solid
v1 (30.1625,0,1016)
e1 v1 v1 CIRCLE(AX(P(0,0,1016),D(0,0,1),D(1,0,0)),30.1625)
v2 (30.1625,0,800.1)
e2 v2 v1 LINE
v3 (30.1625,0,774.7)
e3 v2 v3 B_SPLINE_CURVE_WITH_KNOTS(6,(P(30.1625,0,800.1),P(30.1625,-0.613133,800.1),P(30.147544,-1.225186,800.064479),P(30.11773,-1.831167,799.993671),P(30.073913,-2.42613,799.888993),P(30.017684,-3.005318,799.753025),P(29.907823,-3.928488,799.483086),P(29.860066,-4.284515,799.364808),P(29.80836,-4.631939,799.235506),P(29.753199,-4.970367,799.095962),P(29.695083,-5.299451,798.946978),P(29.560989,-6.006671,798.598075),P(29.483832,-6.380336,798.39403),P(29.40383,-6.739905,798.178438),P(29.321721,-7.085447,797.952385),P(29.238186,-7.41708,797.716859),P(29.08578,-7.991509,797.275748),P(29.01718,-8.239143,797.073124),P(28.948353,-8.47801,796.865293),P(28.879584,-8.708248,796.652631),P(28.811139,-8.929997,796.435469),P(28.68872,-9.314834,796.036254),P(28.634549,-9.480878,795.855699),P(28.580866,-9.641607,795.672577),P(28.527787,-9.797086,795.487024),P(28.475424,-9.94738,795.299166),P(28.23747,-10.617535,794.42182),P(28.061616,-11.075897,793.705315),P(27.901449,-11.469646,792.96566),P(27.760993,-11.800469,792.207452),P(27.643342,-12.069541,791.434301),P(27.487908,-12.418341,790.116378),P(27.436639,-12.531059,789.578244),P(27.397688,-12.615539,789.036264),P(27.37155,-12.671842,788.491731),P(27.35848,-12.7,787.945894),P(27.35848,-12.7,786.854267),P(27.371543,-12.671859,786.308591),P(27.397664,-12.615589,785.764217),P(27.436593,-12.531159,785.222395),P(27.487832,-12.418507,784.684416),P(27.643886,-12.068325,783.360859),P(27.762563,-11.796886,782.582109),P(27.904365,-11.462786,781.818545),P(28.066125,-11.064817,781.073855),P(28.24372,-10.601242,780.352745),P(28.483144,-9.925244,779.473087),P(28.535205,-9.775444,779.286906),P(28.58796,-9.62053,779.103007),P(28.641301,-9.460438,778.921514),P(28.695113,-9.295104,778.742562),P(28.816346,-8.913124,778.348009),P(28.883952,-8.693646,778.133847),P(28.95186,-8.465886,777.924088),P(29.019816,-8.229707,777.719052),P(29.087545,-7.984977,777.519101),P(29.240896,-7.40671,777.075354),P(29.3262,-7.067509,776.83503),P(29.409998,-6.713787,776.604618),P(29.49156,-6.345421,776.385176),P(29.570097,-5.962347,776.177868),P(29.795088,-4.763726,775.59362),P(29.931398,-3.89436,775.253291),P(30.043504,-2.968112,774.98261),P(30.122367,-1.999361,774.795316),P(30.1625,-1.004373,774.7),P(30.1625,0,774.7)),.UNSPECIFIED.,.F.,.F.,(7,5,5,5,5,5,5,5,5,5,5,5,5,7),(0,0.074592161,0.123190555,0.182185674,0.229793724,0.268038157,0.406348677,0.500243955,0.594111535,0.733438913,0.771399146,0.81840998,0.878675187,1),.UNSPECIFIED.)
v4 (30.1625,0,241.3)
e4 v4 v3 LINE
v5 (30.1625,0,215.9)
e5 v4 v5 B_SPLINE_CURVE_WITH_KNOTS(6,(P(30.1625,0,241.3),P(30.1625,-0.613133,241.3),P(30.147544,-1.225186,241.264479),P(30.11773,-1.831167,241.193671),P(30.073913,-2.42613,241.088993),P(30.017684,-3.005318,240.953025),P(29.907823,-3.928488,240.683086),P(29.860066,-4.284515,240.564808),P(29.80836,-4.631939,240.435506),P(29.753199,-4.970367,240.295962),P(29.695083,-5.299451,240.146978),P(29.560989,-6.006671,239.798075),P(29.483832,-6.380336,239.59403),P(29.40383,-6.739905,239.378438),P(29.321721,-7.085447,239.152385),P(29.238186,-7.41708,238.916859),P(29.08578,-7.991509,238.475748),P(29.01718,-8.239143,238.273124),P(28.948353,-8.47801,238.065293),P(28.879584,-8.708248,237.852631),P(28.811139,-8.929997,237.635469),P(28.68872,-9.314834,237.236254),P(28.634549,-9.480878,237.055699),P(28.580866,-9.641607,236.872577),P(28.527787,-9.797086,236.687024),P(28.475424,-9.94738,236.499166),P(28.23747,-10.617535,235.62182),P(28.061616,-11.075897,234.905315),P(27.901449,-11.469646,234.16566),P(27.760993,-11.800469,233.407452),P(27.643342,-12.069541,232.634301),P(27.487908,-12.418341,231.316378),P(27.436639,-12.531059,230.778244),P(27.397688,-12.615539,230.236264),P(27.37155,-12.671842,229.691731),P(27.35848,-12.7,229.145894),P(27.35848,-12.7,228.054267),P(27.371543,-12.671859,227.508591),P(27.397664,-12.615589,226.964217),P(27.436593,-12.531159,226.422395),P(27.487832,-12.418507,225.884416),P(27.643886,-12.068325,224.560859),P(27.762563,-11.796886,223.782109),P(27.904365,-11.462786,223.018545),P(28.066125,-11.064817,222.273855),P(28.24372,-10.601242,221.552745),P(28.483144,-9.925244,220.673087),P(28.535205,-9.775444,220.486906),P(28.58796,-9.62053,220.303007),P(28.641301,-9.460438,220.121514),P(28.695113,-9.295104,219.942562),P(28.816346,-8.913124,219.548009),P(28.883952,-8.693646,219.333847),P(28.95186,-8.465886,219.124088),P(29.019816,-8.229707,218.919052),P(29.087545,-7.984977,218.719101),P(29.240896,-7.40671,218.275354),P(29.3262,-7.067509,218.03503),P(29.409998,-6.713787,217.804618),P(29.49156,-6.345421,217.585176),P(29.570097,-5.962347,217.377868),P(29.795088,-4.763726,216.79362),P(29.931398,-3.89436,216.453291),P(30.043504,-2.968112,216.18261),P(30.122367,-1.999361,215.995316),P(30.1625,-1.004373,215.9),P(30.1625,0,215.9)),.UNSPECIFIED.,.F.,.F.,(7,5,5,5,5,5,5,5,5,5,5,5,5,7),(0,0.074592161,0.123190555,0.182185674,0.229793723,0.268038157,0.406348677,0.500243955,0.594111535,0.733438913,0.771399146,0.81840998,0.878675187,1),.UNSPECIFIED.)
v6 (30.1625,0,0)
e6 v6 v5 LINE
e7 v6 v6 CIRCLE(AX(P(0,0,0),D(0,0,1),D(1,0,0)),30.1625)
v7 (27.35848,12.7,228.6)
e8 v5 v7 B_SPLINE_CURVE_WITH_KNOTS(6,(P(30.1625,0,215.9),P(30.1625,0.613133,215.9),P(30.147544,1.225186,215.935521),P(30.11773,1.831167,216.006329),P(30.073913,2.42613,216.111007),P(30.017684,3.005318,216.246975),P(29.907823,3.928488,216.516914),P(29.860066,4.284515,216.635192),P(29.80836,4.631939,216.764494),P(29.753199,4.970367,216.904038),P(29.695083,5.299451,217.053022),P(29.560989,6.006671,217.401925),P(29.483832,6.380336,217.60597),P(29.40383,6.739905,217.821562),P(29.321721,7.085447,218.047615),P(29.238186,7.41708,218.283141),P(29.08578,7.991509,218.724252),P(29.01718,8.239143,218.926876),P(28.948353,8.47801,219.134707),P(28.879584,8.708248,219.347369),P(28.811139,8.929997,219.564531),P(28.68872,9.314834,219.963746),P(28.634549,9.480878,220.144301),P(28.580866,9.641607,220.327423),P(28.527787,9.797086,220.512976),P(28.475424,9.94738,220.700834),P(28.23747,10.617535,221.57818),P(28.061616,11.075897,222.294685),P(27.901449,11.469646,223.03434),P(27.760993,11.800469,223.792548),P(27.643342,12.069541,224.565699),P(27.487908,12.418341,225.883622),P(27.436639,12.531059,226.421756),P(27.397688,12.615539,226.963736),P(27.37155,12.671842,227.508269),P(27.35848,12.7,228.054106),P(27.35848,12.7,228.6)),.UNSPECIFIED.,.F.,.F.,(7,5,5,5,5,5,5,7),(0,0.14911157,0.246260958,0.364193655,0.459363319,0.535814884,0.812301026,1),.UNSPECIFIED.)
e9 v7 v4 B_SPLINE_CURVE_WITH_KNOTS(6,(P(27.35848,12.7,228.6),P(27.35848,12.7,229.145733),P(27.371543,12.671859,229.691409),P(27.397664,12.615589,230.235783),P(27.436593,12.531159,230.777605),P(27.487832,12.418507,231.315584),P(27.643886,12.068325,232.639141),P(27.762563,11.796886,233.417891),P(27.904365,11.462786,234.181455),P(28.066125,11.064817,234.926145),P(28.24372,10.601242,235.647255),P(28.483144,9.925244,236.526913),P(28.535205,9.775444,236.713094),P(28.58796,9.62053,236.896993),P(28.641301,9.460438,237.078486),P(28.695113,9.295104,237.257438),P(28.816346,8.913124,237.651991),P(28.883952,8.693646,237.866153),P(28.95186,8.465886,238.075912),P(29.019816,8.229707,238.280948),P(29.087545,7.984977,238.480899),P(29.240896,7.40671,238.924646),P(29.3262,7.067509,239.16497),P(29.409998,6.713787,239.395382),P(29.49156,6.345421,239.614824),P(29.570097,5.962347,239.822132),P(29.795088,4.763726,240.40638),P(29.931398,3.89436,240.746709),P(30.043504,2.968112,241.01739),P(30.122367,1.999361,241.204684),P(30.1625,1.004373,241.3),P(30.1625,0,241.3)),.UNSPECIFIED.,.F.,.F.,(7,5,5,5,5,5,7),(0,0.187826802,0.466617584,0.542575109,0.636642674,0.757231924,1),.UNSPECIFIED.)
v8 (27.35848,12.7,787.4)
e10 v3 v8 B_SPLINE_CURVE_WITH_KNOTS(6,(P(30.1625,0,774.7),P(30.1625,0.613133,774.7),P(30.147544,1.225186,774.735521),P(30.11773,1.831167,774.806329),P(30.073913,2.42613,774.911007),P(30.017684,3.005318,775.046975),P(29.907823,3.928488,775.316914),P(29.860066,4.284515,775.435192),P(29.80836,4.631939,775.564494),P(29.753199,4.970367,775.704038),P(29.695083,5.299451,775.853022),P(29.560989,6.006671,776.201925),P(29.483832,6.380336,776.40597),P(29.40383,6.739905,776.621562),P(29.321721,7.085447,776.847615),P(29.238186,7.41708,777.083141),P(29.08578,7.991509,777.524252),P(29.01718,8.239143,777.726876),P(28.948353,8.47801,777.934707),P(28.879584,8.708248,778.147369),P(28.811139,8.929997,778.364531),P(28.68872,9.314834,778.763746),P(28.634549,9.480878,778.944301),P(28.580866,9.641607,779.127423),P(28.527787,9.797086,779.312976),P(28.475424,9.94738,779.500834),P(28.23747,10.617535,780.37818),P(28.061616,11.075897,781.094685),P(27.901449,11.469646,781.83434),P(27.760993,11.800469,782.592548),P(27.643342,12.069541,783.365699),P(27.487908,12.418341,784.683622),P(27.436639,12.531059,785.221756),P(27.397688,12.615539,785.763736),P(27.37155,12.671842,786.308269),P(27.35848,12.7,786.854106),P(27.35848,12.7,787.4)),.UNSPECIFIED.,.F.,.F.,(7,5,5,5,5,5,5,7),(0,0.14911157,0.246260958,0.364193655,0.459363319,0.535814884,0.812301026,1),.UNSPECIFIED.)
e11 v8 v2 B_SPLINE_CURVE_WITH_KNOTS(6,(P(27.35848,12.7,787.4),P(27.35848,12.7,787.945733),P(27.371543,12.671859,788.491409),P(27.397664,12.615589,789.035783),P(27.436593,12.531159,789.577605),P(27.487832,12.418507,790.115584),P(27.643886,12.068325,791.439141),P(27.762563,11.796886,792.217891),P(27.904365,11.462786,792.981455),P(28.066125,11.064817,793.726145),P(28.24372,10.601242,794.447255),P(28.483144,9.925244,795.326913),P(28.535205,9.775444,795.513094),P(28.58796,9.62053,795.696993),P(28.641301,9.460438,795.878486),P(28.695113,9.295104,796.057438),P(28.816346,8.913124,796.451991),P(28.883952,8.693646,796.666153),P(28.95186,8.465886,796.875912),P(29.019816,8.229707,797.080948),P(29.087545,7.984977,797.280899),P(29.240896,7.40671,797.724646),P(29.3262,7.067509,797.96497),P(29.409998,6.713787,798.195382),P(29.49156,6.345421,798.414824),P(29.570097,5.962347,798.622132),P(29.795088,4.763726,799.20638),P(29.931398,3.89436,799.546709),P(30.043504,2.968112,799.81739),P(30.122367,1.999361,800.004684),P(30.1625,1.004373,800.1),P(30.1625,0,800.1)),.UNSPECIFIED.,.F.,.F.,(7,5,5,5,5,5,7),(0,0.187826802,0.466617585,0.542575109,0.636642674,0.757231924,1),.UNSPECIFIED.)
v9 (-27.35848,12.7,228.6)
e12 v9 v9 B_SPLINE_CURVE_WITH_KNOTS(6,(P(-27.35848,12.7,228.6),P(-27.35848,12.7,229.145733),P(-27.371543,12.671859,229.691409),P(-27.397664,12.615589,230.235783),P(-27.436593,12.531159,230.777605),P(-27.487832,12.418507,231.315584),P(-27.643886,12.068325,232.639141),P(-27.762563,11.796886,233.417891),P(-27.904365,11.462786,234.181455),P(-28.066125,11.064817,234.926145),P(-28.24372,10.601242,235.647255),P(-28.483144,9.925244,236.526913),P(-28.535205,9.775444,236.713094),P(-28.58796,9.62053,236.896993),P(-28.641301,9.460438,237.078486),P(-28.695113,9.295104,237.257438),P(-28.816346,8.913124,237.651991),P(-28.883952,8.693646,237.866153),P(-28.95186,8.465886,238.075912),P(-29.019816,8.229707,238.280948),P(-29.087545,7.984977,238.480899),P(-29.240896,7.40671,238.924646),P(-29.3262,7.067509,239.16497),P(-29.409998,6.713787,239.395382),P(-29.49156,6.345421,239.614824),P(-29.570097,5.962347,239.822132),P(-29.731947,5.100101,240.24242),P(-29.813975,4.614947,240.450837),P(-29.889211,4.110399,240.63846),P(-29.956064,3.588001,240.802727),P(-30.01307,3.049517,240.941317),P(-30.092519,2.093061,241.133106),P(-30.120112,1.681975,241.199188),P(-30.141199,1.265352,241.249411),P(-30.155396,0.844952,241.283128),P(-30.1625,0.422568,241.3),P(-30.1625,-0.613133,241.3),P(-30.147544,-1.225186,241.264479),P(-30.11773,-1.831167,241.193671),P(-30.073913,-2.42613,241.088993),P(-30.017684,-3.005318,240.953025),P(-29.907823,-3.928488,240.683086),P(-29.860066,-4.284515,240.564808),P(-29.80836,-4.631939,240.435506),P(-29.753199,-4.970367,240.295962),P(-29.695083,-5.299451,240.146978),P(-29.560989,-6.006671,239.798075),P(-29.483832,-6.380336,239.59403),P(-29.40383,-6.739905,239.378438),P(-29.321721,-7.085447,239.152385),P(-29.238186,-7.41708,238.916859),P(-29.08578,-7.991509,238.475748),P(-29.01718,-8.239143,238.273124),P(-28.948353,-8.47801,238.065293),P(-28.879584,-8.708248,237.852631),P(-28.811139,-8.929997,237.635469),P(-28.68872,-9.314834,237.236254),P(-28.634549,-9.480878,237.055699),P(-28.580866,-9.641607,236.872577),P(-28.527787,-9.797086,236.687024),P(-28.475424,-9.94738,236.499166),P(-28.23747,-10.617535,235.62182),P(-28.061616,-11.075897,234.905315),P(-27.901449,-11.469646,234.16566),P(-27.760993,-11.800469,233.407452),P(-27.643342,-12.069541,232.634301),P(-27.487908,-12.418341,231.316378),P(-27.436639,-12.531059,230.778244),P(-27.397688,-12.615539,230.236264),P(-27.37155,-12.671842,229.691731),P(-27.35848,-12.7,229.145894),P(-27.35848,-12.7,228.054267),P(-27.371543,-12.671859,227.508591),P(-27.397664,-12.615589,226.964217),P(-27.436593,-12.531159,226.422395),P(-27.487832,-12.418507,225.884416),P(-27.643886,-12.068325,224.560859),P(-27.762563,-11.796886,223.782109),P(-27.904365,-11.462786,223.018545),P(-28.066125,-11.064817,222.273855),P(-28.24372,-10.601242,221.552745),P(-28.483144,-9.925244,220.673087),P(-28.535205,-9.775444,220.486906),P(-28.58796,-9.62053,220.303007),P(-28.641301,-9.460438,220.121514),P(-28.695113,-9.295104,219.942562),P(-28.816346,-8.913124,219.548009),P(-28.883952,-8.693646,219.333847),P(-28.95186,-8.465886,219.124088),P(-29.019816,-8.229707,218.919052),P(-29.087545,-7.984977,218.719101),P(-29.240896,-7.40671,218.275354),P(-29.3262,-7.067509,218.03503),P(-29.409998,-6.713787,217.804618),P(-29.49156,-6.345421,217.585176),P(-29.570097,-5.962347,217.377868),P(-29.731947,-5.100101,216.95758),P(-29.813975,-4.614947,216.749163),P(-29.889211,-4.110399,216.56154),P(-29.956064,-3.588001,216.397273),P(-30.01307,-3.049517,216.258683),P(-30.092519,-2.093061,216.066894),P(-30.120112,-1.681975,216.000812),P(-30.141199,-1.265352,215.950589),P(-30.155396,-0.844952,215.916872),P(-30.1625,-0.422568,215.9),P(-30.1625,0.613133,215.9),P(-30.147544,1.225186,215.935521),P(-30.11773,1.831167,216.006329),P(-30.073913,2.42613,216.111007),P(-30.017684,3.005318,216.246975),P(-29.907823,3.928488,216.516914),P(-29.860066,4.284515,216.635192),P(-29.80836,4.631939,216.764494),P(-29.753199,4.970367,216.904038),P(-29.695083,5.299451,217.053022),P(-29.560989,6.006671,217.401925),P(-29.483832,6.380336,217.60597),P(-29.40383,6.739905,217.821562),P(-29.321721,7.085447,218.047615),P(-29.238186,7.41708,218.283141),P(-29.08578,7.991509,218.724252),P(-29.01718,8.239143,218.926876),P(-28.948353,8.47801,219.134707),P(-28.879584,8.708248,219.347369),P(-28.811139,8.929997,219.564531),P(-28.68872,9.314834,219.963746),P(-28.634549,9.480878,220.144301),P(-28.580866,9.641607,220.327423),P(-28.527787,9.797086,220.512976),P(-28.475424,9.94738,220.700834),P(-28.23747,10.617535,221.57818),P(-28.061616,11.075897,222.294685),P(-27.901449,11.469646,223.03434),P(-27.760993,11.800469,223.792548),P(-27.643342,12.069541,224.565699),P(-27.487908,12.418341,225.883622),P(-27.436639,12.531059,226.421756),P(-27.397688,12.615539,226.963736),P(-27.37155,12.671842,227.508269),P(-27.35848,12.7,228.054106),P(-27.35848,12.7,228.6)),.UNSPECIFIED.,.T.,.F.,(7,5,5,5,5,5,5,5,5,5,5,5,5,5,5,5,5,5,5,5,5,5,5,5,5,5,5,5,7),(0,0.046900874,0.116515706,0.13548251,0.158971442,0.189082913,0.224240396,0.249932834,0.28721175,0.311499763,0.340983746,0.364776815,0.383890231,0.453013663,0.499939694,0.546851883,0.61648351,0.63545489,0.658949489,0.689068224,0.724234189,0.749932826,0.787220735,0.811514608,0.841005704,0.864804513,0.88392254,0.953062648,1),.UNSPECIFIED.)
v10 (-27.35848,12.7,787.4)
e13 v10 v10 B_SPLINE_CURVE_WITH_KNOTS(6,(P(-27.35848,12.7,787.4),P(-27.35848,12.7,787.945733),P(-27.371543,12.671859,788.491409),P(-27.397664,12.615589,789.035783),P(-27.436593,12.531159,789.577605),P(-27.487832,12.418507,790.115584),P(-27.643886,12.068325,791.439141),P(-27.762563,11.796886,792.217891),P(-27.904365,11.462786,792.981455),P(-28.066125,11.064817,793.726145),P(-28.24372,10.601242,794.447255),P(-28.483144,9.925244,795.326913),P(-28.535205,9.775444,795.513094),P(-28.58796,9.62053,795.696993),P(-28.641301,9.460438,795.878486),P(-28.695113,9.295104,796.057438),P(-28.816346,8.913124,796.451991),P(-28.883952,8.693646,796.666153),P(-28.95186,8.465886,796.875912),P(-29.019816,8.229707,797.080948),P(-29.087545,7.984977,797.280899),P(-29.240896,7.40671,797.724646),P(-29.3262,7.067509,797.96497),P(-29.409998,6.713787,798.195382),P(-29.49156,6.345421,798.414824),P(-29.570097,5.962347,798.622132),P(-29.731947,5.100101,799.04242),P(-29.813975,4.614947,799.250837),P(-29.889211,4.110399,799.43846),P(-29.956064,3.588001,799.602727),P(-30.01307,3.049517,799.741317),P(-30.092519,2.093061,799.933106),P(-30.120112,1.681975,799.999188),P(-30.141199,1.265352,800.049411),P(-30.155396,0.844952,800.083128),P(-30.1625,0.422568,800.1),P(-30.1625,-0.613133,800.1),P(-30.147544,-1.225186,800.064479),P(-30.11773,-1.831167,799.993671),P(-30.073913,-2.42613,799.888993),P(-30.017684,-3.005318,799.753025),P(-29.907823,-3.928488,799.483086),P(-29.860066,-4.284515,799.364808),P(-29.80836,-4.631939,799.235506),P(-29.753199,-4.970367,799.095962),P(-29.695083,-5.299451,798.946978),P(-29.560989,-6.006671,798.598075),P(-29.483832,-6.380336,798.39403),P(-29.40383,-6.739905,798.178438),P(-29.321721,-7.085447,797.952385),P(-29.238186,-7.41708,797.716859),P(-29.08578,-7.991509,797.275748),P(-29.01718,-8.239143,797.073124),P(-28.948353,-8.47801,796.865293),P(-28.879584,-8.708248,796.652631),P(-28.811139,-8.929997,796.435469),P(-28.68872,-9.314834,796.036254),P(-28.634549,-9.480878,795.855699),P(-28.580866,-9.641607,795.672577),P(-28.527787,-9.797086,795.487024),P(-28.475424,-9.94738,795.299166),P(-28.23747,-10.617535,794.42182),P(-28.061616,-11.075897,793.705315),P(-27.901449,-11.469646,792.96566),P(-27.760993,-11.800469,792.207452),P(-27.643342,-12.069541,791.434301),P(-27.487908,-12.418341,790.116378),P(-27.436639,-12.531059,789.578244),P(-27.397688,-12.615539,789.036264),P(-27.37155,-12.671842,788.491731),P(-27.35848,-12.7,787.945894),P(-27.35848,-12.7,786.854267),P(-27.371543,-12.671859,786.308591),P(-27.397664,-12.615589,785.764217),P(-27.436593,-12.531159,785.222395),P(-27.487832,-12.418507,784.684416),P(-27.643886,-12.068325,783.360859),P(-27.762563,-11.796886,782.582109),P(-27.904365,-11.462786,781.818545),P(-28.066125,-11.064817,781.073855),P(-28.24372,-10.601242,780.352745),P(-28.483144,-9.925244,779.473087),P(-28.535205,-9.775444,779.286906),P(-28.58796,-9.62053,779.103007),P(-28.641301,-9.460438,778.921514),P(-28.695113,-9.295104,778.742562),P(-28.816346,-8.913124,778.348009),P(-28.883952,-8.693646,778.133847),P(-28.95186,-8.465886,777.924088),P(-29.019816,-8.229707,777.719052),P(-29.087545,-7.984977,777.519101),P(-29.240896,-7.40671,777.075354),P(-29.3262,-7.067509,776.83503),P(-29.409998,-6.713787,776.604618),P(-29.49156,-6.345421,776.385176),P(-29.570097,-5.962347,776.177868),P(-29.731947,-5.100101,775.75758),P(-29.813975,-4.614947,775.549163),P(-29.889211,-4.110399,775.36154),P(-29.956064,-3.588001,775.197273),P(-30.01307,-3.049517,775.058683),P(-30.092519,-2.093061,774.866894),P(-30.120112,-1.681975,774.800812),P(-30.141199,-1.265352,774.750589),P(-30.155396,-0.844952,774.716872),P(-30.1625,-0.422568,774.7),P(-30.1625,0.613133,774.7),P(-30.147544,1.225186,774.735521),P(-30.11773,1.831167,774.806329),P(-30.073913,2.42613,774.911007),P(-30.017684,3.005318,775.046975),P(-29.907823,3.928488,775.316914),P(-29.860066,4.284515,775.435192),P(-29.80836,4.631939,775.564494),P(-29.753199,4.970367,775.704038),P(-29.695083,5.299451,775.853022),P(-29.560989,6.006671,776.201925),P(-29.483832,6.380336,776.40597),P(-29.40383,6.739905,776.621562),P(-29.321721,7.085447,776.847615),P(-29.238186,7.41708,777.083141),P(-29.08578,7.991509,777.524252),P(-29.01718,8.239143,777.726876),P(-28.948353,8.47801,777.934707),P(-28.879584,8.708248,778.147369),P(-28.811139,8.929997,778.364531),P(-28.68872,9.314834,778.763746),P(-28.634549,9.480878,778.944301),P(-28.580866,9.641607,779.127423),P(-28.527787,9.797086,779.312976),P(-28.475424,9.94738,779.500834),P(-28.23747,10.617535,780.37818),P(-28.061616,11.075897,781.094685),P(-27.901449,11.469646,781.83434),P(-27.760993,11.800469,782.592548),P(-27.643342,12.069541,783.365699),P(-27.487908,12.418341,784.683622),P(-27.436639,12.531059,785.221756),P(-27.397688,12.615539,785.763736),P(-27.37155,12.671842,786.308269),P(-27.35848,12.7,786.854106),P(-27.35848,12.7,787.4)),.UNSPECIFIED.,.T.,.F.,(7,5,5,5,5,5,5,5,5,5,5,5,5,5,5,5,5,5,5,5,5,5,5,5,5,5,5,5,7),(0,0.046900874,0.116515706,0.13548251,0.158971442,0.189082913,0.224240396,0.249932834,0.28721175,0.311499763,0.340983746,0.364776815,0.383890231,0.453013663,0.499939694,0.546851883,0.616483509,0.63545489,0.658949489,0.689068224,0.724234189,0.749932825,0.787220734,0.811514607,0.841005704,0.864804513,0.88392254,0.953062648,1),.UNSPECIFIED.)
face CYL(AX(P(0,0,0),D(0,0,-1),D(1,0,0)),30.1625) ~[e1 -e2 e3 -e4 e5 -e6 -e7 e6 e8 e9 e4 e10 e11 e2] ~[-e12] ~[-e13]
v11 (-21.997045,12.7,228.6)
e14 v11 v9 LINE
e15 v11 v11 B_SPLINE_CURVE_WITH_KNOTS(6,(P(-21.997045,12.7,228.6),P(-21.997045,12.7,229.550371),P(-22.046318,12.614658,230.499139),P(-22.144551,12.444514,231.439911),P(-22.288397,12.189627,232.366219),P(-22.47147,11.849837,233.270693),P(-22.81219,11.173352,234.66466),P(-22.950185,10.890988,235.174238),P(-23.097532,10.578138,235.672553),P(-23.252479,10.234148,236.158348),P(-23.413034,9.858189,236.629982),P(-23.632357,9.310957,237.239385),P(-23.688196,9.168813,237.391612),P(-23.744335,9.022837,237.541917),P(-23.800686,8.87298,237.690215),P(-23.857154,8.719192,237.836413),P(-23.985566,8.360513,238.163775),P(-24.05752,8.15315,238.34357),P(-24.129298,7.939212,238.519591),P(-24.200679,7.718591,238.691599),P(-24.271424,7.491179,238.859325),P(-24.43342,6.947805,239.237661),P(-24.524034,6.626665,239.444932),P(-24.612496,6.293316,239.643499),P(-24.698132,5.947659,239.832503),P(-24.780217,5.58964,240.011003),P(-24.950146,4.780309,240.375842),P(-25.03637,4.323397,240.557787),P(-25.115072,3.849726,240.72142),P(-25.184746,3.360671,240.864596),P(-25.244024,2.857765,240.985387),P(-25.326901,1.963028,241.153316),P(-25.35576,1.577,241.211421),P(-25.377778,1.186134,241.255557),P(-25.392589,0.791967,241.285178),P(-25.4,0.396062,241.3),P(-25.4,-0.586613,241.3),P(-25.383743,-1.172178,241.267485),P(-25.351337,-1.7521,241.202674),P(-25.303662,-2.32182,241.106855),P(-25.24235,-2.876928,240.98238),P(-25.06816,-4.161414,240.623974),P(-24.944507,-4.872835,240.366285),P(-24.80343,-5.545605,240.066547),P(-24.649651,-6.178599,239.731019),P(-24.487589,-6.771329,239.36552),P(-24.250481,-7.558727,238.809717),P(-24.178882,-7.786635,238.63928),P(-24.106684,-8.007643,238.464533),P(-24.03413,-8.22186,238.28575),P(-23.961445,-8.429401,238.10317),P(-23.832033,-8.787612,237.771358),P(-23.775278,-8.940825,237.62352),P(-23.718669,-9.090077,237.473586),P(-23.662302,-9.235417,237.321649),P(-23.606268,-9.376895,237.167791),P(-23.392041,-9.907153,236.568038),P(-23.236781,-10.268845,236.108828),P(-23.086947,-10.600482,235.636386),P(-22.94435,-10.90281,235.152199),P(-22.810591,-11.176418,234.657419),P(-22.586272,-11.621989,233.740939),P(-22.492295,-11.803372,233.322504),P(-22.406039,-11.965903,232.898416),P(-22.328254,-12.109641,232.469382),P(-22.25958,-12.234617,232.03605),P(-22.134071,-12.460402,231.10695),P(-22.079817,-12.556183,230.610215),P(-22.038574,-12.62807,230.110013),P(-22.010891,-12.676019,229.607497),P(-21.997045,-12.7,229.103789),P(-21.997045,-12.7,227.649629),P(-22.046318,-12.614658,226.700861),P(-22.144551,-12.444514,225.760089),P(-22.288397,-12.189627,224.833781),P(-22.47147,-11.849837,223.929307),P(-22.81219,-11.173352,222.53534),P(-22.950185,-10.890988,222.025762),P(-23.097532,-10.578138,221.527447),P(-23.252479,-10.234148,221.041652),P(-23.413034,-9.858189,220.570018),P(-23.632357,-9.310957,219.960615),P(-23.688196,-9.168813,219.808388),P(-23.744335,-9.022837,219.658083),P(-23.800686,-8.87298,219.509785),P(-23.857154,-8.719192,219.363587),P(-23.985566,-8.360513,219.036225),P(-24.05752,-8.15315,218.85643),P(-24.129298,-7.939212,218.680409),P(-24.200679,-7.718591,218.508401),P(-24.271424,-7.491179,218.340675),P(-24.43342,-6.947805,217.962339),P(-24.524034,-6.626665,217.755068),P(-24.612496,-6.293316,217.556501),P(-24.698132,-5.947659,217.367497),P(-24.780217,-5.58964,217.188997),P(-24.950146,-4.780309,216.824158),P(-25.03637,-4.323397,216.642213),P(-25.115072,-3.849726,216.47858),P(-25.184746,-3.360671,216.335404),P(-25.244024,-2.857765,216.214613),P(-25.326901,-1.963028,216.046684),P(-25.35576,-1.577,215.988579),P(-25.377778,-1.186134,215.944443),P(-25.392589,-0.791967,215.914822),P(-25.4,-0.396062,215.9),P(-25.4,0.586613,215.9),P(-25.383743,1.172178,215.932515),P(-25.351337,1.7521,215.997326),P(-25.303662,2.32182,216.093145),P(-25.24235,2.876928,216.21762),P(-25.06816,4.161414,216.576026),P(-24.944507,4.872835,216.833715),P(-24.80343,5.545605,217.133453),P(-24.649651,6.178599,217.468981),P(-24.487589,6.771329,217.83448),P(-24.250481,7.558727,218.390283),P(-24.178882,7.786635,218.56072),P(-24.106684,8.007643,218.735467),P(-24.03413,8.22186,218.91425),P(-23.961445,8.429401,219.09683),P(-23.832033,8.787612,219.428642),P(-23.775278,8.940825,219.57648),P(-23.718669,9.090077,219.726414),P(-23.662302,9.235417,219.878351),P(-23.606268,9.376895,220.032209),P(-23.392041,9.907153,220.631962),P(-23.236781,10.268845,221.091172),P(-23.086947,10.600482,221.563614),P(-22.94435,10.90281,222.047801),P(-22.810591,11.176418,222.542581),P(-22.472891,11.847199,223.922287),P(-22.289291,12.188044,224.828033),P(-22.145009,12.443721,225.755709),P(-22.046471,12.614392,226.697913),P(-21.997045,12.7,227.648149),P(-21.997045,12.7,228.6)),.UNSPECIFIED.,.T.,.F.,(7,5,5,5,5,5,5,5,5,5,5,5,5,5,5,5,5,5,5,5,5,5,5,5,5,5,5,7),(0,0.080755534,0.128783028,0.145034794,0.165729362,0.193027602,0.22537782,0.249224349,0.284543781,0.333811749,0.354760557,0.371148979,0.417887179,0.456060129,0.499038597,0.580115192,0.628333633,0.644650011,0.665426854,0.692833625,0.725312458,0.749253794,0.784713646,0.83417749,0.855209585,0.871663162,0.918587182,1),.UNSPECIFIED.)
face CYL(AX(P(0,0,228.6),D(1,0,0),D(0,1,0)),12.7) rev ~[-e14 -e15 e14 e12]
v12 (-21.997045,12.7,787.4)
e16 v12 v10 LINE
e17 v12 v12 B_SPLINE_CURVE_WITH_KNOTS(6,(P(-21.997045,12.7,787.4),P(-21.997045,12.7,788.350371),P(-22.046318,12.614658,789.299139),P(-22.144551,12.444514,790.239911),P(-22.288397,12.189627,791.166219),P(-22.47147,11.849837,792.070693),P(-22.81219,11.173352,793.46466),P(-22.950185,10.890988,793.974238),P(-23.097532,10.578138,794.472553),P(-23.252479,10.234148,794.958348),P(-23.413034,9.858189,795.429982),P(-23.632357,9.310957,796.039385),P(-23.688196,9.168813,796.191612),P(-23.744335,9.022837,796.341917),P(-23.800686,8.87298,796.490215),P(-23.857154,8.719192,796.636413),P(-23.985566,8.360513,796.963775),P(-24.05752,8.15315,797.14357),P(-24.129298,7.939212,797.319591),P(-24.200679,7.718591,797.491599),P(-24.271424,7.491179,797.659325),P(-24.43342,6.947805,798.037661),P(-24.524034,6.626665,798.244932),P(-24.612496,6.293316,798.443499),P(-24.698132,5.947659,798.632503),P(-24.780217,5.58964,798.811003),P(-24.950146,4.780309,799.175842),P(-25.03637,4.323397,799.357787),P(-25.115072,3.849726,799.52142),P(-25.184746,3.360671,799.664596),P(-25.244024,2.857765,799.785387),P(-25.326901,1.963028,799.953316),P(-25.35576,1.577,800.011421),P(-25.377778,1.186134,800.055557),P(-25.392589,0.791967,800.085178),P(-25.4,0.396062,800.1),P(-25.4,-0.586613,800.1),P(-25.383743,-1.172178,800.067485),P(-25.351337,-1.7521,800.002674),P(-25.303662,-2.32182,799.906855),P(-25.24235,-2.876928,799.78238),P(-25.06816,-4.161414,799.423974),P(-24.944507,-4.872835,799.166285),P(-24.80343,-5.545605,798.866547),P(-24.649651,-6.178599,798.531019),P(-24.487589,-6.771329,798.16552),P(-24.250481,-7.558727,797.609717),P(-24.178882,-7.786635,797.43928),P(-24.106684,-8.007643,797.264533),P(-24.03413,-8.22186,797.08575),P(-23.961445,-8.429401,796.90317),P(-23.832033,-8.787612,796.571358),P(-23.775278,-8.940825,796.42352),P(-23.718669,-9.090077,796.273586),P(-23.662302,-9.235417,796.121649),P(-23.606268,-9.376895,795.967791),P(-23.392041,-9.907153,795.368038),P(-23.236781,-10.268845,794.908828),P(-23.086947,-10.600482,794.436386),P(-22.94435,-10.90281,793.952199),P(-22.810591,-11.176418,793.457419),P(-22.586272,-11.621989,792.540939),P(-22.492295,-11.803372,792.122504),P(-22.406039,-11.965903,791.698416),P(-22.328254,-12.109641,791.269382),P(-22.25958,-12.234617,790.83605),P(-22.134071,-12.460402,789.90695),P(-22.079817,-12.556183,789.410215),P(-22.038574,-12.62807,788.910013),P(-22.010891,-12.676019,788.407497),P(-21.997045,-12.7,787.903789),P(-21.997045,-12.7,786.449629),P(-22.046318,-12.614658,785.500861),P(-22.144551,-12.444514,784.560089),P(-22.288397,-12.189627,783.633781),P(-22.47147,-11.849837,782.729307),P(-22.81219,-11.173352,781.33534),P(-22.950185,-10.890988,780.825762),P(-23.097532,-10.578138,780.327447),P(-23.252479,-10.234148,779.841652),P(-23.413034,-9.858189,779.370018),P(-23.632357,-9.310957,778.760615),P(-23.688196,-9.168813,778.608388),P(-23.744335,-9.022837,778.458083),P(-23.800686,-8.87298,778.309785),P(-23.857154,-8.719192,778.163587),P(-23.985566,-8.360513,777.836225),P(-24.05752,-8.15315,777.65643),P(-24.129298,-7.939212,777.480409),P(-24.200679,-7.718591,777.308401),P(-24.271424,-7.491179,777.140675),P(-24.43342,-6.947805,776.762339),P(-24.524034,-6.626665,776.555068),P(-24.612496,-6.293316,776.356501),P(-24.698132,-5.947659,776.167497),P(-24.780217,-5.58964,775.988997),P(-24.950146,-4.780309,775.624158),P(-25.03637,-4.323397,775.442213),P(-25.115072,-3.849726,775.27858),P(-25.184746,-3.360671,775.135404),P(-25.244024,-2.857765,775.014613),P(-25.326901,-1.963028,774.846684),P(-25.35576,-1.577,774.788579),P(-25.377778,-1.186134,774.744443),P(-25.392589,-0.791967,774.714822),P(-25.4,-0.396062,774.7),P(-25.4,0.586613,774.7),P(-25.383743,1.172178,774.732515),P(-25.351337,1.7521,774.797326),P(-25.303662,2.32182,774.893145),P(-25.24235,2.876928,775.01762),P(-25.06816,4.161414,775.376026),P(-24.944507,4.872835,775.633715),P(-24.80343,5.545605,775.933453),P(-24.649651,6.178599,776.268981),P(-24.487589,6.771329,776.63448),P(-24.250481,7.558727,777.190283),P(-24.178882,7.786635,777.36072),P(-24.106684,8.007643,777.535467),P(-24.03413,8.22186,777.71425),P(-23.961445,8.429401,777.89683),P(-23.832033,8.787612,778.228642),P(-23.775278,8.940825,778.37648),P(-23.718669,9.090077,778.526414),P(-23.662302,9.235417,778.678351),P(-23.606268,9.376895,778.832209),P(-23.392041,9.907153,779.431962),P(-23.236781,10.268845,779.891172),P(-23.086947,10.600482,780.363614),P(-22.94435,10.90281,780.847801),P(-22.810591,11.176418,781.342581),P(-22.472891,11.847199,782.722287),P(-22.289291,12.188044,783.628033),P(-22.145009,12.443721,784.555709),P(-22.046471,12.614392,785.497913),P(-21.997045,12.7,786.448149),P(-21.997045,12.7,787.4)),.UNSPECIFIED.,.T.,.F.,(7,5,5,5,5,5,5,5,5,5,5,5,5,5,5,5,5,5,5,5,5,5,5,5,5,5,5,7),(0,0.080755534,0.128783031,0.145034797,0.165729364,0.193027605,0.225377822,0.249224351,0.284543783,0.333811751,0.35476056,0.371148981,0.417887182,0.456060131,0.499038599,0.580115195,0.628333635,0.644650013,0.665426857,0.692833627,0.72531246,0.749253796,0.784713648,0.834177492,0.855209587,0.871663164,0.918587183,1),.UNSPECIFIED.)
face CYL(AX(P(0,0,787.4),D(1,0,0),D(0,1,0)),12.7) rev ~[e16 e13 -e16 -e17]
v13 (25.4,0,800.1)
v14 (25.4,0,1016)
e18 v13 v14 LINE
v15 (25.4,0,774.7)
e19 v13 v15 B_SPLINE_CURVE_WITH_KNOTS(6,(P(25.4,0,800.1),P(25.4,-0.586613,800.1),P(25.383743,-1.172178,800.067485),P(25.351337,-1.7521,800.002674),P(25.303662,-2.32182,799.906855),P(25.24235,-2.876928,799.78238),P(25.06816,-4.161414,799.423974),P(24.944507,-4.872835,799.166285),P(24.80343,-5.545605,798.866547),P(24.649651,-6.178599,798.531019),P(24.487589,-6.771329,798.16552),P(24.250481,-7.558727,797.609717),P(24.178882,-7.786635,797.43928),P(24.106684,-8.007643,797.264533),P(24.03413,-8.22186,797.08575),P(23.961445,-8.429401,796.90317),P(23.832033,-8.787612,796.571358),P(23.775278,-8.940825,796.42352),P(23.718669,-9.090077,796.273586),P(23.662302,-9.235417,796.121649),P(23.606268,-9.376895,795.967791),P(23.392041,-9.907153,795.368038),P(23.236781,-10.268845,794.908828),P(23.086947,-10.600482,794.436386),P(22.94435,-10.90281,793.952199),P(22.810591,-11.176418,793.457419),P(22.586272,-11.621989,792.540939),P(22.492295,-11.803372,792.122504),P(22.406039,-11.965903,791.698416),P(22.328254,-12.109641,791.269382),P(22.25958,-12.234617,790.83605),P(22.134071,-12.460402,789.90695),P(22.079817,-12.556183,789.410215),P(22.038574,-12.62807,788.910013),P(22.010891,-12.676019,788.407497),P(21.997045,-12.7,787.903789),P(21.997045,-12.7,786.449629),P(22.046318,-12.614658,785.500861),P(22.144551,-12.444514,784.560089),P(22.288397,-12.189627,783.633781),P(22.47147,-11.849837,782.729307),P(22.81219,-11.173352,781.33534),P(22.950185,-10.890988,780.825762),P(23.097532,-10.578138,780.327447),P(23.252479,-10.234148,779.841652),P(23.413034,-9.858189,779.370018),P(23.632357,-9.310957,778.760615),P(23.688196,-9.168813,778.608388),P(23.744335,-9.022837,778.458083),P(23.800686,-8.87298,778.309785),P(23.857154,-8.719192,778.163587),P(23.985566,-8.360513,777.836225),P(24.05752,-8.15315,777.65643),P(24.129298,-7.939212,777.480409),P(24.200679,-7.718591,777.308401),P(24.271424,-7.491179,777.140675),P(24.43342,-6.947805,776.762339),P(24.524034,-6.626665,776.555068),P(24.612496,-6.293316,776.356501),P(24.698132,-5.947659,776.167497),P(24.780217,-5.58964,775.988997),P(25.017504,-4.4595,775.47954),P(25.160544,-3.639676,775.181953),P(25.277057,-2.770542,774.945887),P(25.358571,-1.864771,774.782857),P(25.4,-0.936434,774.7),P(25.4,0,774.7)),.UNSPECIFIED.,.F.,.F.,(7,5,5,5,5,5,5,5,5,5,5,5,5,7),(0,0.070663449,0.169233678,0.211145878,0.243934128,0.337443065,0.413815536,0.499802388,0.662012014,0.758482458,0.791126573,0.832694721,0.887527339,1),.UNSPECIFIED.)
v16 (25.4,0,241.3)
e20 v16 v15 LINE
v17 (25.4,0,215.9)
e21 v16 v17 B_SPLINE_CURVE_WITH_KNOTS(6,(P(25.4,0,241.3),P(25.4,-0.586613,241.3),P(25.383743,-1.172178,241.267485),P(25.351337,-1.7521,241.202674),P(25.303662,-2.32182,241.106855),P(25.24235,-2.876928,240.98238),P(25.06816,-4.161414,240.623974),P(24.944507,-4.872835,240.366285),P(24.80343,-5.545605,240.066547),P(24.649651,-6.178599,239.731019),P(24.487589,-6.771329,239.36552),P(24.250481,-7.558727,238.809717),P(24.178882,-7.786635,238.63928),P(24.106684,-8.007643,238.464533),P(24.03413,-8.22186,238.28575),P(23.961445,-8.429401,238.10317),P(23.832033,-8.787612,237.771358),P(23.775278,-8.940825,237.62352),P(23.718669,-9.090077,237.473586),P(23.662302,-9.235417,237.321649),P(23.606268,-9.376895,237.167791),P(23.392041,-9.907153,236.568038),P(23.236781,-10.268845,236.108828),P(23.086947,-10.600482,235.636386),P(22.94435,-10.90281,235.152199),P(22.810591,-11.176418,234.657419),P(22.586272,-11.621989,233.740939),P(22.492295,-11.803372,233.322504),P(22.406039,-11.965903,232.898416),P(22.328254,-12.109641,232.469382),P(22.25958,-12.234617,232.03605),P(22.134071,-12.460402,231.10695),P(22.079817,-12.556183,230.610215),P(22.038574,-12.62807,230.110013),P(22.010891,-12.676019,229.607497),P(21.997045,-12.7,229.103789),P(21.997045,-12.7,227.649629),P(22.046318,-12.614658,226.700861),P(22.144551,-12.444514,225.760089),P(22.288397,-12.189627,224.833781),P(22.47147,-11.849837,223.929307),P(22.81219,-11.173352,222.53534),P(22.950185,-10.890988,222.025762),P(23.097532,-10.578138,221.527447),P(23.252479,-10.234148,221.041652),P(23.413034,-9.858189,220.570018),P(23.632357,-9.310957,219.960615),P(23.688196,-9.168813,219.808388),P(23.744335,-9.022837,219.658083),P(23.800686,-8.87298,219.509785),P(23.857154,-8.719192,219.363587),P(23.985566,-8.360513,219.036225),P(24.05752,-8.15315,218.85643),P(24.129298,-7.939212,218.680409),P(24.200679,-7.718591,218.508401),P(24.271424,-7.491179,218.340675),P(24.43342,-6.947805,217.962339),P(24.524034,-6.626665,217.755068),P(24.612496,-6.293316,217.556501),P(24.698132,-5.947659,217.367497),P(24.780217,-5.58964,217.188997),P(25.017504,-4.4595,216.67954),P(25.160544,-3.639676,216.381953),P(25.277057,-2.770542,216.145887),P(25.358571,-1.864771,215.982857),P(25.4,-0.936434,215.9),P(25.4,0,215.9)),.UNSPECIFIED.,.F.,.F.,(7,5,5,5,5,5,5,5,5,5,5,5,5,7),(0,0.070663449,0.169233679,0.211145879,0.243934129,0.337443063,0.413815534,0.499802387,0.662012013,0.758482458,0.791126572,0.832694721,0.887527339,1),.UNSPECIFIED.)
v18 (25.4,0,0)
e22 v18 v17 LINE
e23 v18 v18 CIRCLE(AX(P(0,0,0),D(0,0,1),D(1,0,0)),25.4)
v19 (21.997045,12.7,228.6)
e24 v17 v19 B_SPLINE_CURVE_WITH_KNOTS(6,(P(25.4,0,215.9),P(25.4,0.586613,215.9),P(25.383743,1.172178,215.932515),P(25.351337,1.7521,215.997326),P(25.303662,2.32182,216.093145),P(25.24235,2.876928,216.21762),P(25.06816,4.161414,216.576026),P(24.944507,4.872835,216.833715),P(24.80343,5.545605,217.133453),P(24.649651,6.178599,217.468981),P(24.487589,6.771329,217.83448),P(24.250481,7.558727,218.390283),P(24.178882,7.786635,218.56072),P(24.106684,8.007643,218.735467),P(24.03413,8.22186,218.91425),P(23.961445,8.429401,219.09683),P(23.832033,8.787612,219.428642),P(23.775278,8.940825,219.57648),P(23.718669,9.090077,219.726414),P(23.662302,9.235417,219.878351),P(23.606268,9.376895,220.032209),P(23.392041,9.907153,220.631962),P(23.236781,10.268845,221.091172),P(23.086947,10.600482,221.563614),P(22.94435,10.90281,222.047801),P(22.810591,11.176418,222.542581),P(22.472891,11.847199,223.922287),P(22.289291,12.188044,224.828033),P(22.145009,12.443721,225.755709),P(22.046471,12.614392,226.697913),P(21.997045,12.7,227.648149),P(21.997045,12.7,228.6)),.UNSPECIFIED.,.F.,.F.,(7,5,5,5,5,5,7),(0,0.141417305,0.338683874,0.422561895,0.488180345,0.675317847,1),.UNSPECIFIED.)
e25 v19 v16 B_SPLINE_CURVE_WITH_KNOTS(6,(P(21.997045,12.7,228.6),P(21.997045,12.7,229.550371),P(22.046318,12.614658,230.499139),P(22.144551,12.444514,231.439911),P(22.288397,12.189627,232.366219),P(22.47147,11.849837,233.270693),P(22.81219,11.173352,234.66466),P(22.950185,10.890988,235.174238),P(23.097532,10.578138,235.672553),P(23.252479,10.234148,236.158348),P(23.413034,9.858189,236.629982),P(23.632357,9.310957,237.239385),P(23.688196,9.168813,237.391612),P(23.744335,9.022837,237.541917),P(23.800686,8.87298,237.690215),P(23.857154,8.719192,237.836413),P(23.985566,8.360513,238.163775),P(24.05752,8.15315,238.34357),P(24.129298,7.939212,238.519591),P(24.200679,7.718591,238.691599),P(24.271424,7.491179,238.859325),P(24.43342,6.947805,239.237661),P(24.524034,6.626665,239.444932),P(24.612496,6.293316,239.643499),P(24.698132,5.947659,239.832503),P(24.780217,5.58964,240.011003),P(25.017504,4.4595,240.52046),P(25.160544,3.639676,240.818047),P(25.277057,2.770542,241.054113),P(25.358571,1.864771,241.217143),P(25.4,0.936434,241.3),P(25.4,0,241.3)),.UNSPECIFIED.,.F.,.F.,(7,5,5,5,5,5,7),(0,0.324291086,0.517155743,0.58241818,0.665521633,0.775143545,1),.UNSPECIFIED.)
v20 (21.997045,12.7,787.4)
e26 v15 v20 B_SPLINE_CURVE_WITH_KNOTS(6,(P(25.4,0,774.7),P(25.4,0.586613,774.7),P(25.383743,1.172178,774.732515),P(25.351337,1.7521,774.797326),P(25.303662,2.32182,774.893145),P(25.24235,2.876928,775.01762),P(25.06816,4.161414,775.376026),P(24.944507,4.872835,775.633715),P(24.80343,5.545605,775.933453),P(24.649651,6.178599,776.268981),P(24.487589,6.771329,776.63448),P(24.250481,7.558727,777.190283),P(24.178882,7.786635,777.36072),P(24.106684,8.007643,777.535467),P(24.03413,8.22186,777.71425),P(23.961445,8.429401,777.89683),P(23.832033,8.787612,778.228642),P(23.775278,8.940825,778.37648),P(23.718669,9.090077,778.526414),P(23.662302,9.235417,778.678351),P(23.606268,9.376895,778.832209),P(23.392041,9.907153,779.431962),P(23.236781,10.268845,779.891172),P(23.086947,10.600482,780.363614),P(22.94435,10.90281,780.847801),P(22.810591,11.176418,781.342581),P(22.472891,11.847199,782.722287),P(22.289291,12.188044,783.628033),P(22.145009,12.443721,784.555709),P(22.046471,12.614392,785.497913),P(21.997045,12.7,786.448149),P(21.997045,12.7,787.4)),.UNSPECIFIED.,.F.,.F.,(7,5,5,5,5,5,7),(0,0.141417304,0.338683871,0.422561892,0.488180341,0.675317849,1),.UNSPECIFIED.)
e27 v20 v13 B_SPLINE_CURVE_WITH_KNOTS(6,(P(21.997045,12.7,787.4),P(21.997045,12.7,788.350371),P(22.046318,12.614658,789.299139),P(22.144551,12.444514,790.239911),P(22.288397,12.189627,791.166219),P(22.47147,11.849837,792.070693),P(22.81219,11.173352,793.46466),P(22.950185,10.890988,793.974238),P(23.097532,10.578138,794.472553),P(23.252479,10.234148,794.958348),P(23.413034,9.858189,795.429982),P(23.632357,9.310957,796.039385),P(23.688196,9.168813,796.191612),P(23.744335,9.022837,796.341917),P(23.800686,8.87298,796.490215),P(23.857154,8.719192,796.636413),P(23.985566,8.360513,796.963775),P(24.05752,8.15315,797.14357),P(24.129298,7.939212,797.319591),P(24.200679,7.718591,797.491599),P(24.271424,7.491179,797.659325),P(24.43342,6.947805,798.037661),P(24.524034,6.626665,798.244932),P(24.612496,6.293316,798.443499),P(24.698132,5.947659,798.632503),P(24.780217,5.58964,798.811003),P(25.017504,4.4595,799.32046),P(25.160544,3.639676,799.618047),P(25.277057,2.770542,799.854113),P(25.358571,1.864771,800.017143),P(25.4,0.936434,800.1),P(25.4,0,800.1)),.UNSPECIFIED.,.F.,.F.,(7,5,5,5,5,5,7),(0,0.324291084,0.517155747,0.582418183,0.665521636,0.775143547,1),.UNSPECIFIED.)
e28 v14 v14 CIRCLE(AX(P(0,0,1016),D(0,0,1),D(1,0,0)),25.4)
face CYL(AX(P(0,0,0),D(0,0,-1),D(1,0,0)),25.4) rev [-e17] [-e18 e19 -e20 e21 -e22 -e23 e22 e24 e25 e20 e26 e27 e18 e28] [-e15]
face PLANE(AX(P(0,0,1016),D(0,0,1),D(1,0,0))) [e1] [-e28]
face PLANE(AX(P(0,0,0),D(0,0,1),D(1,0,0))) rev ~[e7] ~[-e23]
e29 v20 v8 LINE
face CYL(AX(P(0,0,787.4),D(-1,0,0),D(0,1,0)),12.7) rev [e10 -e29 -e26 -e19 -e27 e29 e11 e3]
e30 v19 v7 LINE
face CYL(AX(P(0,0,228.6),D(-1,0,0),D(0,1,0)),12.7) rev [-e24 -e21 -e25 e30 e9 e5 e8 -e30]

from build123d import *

# Parameters (mm, degrees)
F0_R          = 30.1625
F0_R_2        = 25.4
F1_DEPTH      = 1016
F2_R          = 12.7
F3_DEPTH      = 31.1625001
F3_DEPTH_BACK = 31.1625001


with BuildPart() as f1:
    # F0 (on Top) → F1 (new body)
    with BuildSketch(Plane.XY):
        Circle(F0_R)
        Circle(F0_R_2, mode=Mode.SUBTRACT)
    extrude(amount=F1_DEPTH)

    # F2 (on Right) → F3 (cut, two sides)
    with BuildSketch(Plane.YZ) as f3_sk:
        with Locations((0, 228.6)):
            Circle(F2_R)
        with Locations((0, 787.4)):
            Circle(F2_R)
    extrude(amount=F3_DEPTH, mode=Mode.SUBTRACT)
    extrude(f3_sk.sketch, amount=-F3_DEPTH_BACK, mode=Mode.SUBTRACT)


solid = f1.part
